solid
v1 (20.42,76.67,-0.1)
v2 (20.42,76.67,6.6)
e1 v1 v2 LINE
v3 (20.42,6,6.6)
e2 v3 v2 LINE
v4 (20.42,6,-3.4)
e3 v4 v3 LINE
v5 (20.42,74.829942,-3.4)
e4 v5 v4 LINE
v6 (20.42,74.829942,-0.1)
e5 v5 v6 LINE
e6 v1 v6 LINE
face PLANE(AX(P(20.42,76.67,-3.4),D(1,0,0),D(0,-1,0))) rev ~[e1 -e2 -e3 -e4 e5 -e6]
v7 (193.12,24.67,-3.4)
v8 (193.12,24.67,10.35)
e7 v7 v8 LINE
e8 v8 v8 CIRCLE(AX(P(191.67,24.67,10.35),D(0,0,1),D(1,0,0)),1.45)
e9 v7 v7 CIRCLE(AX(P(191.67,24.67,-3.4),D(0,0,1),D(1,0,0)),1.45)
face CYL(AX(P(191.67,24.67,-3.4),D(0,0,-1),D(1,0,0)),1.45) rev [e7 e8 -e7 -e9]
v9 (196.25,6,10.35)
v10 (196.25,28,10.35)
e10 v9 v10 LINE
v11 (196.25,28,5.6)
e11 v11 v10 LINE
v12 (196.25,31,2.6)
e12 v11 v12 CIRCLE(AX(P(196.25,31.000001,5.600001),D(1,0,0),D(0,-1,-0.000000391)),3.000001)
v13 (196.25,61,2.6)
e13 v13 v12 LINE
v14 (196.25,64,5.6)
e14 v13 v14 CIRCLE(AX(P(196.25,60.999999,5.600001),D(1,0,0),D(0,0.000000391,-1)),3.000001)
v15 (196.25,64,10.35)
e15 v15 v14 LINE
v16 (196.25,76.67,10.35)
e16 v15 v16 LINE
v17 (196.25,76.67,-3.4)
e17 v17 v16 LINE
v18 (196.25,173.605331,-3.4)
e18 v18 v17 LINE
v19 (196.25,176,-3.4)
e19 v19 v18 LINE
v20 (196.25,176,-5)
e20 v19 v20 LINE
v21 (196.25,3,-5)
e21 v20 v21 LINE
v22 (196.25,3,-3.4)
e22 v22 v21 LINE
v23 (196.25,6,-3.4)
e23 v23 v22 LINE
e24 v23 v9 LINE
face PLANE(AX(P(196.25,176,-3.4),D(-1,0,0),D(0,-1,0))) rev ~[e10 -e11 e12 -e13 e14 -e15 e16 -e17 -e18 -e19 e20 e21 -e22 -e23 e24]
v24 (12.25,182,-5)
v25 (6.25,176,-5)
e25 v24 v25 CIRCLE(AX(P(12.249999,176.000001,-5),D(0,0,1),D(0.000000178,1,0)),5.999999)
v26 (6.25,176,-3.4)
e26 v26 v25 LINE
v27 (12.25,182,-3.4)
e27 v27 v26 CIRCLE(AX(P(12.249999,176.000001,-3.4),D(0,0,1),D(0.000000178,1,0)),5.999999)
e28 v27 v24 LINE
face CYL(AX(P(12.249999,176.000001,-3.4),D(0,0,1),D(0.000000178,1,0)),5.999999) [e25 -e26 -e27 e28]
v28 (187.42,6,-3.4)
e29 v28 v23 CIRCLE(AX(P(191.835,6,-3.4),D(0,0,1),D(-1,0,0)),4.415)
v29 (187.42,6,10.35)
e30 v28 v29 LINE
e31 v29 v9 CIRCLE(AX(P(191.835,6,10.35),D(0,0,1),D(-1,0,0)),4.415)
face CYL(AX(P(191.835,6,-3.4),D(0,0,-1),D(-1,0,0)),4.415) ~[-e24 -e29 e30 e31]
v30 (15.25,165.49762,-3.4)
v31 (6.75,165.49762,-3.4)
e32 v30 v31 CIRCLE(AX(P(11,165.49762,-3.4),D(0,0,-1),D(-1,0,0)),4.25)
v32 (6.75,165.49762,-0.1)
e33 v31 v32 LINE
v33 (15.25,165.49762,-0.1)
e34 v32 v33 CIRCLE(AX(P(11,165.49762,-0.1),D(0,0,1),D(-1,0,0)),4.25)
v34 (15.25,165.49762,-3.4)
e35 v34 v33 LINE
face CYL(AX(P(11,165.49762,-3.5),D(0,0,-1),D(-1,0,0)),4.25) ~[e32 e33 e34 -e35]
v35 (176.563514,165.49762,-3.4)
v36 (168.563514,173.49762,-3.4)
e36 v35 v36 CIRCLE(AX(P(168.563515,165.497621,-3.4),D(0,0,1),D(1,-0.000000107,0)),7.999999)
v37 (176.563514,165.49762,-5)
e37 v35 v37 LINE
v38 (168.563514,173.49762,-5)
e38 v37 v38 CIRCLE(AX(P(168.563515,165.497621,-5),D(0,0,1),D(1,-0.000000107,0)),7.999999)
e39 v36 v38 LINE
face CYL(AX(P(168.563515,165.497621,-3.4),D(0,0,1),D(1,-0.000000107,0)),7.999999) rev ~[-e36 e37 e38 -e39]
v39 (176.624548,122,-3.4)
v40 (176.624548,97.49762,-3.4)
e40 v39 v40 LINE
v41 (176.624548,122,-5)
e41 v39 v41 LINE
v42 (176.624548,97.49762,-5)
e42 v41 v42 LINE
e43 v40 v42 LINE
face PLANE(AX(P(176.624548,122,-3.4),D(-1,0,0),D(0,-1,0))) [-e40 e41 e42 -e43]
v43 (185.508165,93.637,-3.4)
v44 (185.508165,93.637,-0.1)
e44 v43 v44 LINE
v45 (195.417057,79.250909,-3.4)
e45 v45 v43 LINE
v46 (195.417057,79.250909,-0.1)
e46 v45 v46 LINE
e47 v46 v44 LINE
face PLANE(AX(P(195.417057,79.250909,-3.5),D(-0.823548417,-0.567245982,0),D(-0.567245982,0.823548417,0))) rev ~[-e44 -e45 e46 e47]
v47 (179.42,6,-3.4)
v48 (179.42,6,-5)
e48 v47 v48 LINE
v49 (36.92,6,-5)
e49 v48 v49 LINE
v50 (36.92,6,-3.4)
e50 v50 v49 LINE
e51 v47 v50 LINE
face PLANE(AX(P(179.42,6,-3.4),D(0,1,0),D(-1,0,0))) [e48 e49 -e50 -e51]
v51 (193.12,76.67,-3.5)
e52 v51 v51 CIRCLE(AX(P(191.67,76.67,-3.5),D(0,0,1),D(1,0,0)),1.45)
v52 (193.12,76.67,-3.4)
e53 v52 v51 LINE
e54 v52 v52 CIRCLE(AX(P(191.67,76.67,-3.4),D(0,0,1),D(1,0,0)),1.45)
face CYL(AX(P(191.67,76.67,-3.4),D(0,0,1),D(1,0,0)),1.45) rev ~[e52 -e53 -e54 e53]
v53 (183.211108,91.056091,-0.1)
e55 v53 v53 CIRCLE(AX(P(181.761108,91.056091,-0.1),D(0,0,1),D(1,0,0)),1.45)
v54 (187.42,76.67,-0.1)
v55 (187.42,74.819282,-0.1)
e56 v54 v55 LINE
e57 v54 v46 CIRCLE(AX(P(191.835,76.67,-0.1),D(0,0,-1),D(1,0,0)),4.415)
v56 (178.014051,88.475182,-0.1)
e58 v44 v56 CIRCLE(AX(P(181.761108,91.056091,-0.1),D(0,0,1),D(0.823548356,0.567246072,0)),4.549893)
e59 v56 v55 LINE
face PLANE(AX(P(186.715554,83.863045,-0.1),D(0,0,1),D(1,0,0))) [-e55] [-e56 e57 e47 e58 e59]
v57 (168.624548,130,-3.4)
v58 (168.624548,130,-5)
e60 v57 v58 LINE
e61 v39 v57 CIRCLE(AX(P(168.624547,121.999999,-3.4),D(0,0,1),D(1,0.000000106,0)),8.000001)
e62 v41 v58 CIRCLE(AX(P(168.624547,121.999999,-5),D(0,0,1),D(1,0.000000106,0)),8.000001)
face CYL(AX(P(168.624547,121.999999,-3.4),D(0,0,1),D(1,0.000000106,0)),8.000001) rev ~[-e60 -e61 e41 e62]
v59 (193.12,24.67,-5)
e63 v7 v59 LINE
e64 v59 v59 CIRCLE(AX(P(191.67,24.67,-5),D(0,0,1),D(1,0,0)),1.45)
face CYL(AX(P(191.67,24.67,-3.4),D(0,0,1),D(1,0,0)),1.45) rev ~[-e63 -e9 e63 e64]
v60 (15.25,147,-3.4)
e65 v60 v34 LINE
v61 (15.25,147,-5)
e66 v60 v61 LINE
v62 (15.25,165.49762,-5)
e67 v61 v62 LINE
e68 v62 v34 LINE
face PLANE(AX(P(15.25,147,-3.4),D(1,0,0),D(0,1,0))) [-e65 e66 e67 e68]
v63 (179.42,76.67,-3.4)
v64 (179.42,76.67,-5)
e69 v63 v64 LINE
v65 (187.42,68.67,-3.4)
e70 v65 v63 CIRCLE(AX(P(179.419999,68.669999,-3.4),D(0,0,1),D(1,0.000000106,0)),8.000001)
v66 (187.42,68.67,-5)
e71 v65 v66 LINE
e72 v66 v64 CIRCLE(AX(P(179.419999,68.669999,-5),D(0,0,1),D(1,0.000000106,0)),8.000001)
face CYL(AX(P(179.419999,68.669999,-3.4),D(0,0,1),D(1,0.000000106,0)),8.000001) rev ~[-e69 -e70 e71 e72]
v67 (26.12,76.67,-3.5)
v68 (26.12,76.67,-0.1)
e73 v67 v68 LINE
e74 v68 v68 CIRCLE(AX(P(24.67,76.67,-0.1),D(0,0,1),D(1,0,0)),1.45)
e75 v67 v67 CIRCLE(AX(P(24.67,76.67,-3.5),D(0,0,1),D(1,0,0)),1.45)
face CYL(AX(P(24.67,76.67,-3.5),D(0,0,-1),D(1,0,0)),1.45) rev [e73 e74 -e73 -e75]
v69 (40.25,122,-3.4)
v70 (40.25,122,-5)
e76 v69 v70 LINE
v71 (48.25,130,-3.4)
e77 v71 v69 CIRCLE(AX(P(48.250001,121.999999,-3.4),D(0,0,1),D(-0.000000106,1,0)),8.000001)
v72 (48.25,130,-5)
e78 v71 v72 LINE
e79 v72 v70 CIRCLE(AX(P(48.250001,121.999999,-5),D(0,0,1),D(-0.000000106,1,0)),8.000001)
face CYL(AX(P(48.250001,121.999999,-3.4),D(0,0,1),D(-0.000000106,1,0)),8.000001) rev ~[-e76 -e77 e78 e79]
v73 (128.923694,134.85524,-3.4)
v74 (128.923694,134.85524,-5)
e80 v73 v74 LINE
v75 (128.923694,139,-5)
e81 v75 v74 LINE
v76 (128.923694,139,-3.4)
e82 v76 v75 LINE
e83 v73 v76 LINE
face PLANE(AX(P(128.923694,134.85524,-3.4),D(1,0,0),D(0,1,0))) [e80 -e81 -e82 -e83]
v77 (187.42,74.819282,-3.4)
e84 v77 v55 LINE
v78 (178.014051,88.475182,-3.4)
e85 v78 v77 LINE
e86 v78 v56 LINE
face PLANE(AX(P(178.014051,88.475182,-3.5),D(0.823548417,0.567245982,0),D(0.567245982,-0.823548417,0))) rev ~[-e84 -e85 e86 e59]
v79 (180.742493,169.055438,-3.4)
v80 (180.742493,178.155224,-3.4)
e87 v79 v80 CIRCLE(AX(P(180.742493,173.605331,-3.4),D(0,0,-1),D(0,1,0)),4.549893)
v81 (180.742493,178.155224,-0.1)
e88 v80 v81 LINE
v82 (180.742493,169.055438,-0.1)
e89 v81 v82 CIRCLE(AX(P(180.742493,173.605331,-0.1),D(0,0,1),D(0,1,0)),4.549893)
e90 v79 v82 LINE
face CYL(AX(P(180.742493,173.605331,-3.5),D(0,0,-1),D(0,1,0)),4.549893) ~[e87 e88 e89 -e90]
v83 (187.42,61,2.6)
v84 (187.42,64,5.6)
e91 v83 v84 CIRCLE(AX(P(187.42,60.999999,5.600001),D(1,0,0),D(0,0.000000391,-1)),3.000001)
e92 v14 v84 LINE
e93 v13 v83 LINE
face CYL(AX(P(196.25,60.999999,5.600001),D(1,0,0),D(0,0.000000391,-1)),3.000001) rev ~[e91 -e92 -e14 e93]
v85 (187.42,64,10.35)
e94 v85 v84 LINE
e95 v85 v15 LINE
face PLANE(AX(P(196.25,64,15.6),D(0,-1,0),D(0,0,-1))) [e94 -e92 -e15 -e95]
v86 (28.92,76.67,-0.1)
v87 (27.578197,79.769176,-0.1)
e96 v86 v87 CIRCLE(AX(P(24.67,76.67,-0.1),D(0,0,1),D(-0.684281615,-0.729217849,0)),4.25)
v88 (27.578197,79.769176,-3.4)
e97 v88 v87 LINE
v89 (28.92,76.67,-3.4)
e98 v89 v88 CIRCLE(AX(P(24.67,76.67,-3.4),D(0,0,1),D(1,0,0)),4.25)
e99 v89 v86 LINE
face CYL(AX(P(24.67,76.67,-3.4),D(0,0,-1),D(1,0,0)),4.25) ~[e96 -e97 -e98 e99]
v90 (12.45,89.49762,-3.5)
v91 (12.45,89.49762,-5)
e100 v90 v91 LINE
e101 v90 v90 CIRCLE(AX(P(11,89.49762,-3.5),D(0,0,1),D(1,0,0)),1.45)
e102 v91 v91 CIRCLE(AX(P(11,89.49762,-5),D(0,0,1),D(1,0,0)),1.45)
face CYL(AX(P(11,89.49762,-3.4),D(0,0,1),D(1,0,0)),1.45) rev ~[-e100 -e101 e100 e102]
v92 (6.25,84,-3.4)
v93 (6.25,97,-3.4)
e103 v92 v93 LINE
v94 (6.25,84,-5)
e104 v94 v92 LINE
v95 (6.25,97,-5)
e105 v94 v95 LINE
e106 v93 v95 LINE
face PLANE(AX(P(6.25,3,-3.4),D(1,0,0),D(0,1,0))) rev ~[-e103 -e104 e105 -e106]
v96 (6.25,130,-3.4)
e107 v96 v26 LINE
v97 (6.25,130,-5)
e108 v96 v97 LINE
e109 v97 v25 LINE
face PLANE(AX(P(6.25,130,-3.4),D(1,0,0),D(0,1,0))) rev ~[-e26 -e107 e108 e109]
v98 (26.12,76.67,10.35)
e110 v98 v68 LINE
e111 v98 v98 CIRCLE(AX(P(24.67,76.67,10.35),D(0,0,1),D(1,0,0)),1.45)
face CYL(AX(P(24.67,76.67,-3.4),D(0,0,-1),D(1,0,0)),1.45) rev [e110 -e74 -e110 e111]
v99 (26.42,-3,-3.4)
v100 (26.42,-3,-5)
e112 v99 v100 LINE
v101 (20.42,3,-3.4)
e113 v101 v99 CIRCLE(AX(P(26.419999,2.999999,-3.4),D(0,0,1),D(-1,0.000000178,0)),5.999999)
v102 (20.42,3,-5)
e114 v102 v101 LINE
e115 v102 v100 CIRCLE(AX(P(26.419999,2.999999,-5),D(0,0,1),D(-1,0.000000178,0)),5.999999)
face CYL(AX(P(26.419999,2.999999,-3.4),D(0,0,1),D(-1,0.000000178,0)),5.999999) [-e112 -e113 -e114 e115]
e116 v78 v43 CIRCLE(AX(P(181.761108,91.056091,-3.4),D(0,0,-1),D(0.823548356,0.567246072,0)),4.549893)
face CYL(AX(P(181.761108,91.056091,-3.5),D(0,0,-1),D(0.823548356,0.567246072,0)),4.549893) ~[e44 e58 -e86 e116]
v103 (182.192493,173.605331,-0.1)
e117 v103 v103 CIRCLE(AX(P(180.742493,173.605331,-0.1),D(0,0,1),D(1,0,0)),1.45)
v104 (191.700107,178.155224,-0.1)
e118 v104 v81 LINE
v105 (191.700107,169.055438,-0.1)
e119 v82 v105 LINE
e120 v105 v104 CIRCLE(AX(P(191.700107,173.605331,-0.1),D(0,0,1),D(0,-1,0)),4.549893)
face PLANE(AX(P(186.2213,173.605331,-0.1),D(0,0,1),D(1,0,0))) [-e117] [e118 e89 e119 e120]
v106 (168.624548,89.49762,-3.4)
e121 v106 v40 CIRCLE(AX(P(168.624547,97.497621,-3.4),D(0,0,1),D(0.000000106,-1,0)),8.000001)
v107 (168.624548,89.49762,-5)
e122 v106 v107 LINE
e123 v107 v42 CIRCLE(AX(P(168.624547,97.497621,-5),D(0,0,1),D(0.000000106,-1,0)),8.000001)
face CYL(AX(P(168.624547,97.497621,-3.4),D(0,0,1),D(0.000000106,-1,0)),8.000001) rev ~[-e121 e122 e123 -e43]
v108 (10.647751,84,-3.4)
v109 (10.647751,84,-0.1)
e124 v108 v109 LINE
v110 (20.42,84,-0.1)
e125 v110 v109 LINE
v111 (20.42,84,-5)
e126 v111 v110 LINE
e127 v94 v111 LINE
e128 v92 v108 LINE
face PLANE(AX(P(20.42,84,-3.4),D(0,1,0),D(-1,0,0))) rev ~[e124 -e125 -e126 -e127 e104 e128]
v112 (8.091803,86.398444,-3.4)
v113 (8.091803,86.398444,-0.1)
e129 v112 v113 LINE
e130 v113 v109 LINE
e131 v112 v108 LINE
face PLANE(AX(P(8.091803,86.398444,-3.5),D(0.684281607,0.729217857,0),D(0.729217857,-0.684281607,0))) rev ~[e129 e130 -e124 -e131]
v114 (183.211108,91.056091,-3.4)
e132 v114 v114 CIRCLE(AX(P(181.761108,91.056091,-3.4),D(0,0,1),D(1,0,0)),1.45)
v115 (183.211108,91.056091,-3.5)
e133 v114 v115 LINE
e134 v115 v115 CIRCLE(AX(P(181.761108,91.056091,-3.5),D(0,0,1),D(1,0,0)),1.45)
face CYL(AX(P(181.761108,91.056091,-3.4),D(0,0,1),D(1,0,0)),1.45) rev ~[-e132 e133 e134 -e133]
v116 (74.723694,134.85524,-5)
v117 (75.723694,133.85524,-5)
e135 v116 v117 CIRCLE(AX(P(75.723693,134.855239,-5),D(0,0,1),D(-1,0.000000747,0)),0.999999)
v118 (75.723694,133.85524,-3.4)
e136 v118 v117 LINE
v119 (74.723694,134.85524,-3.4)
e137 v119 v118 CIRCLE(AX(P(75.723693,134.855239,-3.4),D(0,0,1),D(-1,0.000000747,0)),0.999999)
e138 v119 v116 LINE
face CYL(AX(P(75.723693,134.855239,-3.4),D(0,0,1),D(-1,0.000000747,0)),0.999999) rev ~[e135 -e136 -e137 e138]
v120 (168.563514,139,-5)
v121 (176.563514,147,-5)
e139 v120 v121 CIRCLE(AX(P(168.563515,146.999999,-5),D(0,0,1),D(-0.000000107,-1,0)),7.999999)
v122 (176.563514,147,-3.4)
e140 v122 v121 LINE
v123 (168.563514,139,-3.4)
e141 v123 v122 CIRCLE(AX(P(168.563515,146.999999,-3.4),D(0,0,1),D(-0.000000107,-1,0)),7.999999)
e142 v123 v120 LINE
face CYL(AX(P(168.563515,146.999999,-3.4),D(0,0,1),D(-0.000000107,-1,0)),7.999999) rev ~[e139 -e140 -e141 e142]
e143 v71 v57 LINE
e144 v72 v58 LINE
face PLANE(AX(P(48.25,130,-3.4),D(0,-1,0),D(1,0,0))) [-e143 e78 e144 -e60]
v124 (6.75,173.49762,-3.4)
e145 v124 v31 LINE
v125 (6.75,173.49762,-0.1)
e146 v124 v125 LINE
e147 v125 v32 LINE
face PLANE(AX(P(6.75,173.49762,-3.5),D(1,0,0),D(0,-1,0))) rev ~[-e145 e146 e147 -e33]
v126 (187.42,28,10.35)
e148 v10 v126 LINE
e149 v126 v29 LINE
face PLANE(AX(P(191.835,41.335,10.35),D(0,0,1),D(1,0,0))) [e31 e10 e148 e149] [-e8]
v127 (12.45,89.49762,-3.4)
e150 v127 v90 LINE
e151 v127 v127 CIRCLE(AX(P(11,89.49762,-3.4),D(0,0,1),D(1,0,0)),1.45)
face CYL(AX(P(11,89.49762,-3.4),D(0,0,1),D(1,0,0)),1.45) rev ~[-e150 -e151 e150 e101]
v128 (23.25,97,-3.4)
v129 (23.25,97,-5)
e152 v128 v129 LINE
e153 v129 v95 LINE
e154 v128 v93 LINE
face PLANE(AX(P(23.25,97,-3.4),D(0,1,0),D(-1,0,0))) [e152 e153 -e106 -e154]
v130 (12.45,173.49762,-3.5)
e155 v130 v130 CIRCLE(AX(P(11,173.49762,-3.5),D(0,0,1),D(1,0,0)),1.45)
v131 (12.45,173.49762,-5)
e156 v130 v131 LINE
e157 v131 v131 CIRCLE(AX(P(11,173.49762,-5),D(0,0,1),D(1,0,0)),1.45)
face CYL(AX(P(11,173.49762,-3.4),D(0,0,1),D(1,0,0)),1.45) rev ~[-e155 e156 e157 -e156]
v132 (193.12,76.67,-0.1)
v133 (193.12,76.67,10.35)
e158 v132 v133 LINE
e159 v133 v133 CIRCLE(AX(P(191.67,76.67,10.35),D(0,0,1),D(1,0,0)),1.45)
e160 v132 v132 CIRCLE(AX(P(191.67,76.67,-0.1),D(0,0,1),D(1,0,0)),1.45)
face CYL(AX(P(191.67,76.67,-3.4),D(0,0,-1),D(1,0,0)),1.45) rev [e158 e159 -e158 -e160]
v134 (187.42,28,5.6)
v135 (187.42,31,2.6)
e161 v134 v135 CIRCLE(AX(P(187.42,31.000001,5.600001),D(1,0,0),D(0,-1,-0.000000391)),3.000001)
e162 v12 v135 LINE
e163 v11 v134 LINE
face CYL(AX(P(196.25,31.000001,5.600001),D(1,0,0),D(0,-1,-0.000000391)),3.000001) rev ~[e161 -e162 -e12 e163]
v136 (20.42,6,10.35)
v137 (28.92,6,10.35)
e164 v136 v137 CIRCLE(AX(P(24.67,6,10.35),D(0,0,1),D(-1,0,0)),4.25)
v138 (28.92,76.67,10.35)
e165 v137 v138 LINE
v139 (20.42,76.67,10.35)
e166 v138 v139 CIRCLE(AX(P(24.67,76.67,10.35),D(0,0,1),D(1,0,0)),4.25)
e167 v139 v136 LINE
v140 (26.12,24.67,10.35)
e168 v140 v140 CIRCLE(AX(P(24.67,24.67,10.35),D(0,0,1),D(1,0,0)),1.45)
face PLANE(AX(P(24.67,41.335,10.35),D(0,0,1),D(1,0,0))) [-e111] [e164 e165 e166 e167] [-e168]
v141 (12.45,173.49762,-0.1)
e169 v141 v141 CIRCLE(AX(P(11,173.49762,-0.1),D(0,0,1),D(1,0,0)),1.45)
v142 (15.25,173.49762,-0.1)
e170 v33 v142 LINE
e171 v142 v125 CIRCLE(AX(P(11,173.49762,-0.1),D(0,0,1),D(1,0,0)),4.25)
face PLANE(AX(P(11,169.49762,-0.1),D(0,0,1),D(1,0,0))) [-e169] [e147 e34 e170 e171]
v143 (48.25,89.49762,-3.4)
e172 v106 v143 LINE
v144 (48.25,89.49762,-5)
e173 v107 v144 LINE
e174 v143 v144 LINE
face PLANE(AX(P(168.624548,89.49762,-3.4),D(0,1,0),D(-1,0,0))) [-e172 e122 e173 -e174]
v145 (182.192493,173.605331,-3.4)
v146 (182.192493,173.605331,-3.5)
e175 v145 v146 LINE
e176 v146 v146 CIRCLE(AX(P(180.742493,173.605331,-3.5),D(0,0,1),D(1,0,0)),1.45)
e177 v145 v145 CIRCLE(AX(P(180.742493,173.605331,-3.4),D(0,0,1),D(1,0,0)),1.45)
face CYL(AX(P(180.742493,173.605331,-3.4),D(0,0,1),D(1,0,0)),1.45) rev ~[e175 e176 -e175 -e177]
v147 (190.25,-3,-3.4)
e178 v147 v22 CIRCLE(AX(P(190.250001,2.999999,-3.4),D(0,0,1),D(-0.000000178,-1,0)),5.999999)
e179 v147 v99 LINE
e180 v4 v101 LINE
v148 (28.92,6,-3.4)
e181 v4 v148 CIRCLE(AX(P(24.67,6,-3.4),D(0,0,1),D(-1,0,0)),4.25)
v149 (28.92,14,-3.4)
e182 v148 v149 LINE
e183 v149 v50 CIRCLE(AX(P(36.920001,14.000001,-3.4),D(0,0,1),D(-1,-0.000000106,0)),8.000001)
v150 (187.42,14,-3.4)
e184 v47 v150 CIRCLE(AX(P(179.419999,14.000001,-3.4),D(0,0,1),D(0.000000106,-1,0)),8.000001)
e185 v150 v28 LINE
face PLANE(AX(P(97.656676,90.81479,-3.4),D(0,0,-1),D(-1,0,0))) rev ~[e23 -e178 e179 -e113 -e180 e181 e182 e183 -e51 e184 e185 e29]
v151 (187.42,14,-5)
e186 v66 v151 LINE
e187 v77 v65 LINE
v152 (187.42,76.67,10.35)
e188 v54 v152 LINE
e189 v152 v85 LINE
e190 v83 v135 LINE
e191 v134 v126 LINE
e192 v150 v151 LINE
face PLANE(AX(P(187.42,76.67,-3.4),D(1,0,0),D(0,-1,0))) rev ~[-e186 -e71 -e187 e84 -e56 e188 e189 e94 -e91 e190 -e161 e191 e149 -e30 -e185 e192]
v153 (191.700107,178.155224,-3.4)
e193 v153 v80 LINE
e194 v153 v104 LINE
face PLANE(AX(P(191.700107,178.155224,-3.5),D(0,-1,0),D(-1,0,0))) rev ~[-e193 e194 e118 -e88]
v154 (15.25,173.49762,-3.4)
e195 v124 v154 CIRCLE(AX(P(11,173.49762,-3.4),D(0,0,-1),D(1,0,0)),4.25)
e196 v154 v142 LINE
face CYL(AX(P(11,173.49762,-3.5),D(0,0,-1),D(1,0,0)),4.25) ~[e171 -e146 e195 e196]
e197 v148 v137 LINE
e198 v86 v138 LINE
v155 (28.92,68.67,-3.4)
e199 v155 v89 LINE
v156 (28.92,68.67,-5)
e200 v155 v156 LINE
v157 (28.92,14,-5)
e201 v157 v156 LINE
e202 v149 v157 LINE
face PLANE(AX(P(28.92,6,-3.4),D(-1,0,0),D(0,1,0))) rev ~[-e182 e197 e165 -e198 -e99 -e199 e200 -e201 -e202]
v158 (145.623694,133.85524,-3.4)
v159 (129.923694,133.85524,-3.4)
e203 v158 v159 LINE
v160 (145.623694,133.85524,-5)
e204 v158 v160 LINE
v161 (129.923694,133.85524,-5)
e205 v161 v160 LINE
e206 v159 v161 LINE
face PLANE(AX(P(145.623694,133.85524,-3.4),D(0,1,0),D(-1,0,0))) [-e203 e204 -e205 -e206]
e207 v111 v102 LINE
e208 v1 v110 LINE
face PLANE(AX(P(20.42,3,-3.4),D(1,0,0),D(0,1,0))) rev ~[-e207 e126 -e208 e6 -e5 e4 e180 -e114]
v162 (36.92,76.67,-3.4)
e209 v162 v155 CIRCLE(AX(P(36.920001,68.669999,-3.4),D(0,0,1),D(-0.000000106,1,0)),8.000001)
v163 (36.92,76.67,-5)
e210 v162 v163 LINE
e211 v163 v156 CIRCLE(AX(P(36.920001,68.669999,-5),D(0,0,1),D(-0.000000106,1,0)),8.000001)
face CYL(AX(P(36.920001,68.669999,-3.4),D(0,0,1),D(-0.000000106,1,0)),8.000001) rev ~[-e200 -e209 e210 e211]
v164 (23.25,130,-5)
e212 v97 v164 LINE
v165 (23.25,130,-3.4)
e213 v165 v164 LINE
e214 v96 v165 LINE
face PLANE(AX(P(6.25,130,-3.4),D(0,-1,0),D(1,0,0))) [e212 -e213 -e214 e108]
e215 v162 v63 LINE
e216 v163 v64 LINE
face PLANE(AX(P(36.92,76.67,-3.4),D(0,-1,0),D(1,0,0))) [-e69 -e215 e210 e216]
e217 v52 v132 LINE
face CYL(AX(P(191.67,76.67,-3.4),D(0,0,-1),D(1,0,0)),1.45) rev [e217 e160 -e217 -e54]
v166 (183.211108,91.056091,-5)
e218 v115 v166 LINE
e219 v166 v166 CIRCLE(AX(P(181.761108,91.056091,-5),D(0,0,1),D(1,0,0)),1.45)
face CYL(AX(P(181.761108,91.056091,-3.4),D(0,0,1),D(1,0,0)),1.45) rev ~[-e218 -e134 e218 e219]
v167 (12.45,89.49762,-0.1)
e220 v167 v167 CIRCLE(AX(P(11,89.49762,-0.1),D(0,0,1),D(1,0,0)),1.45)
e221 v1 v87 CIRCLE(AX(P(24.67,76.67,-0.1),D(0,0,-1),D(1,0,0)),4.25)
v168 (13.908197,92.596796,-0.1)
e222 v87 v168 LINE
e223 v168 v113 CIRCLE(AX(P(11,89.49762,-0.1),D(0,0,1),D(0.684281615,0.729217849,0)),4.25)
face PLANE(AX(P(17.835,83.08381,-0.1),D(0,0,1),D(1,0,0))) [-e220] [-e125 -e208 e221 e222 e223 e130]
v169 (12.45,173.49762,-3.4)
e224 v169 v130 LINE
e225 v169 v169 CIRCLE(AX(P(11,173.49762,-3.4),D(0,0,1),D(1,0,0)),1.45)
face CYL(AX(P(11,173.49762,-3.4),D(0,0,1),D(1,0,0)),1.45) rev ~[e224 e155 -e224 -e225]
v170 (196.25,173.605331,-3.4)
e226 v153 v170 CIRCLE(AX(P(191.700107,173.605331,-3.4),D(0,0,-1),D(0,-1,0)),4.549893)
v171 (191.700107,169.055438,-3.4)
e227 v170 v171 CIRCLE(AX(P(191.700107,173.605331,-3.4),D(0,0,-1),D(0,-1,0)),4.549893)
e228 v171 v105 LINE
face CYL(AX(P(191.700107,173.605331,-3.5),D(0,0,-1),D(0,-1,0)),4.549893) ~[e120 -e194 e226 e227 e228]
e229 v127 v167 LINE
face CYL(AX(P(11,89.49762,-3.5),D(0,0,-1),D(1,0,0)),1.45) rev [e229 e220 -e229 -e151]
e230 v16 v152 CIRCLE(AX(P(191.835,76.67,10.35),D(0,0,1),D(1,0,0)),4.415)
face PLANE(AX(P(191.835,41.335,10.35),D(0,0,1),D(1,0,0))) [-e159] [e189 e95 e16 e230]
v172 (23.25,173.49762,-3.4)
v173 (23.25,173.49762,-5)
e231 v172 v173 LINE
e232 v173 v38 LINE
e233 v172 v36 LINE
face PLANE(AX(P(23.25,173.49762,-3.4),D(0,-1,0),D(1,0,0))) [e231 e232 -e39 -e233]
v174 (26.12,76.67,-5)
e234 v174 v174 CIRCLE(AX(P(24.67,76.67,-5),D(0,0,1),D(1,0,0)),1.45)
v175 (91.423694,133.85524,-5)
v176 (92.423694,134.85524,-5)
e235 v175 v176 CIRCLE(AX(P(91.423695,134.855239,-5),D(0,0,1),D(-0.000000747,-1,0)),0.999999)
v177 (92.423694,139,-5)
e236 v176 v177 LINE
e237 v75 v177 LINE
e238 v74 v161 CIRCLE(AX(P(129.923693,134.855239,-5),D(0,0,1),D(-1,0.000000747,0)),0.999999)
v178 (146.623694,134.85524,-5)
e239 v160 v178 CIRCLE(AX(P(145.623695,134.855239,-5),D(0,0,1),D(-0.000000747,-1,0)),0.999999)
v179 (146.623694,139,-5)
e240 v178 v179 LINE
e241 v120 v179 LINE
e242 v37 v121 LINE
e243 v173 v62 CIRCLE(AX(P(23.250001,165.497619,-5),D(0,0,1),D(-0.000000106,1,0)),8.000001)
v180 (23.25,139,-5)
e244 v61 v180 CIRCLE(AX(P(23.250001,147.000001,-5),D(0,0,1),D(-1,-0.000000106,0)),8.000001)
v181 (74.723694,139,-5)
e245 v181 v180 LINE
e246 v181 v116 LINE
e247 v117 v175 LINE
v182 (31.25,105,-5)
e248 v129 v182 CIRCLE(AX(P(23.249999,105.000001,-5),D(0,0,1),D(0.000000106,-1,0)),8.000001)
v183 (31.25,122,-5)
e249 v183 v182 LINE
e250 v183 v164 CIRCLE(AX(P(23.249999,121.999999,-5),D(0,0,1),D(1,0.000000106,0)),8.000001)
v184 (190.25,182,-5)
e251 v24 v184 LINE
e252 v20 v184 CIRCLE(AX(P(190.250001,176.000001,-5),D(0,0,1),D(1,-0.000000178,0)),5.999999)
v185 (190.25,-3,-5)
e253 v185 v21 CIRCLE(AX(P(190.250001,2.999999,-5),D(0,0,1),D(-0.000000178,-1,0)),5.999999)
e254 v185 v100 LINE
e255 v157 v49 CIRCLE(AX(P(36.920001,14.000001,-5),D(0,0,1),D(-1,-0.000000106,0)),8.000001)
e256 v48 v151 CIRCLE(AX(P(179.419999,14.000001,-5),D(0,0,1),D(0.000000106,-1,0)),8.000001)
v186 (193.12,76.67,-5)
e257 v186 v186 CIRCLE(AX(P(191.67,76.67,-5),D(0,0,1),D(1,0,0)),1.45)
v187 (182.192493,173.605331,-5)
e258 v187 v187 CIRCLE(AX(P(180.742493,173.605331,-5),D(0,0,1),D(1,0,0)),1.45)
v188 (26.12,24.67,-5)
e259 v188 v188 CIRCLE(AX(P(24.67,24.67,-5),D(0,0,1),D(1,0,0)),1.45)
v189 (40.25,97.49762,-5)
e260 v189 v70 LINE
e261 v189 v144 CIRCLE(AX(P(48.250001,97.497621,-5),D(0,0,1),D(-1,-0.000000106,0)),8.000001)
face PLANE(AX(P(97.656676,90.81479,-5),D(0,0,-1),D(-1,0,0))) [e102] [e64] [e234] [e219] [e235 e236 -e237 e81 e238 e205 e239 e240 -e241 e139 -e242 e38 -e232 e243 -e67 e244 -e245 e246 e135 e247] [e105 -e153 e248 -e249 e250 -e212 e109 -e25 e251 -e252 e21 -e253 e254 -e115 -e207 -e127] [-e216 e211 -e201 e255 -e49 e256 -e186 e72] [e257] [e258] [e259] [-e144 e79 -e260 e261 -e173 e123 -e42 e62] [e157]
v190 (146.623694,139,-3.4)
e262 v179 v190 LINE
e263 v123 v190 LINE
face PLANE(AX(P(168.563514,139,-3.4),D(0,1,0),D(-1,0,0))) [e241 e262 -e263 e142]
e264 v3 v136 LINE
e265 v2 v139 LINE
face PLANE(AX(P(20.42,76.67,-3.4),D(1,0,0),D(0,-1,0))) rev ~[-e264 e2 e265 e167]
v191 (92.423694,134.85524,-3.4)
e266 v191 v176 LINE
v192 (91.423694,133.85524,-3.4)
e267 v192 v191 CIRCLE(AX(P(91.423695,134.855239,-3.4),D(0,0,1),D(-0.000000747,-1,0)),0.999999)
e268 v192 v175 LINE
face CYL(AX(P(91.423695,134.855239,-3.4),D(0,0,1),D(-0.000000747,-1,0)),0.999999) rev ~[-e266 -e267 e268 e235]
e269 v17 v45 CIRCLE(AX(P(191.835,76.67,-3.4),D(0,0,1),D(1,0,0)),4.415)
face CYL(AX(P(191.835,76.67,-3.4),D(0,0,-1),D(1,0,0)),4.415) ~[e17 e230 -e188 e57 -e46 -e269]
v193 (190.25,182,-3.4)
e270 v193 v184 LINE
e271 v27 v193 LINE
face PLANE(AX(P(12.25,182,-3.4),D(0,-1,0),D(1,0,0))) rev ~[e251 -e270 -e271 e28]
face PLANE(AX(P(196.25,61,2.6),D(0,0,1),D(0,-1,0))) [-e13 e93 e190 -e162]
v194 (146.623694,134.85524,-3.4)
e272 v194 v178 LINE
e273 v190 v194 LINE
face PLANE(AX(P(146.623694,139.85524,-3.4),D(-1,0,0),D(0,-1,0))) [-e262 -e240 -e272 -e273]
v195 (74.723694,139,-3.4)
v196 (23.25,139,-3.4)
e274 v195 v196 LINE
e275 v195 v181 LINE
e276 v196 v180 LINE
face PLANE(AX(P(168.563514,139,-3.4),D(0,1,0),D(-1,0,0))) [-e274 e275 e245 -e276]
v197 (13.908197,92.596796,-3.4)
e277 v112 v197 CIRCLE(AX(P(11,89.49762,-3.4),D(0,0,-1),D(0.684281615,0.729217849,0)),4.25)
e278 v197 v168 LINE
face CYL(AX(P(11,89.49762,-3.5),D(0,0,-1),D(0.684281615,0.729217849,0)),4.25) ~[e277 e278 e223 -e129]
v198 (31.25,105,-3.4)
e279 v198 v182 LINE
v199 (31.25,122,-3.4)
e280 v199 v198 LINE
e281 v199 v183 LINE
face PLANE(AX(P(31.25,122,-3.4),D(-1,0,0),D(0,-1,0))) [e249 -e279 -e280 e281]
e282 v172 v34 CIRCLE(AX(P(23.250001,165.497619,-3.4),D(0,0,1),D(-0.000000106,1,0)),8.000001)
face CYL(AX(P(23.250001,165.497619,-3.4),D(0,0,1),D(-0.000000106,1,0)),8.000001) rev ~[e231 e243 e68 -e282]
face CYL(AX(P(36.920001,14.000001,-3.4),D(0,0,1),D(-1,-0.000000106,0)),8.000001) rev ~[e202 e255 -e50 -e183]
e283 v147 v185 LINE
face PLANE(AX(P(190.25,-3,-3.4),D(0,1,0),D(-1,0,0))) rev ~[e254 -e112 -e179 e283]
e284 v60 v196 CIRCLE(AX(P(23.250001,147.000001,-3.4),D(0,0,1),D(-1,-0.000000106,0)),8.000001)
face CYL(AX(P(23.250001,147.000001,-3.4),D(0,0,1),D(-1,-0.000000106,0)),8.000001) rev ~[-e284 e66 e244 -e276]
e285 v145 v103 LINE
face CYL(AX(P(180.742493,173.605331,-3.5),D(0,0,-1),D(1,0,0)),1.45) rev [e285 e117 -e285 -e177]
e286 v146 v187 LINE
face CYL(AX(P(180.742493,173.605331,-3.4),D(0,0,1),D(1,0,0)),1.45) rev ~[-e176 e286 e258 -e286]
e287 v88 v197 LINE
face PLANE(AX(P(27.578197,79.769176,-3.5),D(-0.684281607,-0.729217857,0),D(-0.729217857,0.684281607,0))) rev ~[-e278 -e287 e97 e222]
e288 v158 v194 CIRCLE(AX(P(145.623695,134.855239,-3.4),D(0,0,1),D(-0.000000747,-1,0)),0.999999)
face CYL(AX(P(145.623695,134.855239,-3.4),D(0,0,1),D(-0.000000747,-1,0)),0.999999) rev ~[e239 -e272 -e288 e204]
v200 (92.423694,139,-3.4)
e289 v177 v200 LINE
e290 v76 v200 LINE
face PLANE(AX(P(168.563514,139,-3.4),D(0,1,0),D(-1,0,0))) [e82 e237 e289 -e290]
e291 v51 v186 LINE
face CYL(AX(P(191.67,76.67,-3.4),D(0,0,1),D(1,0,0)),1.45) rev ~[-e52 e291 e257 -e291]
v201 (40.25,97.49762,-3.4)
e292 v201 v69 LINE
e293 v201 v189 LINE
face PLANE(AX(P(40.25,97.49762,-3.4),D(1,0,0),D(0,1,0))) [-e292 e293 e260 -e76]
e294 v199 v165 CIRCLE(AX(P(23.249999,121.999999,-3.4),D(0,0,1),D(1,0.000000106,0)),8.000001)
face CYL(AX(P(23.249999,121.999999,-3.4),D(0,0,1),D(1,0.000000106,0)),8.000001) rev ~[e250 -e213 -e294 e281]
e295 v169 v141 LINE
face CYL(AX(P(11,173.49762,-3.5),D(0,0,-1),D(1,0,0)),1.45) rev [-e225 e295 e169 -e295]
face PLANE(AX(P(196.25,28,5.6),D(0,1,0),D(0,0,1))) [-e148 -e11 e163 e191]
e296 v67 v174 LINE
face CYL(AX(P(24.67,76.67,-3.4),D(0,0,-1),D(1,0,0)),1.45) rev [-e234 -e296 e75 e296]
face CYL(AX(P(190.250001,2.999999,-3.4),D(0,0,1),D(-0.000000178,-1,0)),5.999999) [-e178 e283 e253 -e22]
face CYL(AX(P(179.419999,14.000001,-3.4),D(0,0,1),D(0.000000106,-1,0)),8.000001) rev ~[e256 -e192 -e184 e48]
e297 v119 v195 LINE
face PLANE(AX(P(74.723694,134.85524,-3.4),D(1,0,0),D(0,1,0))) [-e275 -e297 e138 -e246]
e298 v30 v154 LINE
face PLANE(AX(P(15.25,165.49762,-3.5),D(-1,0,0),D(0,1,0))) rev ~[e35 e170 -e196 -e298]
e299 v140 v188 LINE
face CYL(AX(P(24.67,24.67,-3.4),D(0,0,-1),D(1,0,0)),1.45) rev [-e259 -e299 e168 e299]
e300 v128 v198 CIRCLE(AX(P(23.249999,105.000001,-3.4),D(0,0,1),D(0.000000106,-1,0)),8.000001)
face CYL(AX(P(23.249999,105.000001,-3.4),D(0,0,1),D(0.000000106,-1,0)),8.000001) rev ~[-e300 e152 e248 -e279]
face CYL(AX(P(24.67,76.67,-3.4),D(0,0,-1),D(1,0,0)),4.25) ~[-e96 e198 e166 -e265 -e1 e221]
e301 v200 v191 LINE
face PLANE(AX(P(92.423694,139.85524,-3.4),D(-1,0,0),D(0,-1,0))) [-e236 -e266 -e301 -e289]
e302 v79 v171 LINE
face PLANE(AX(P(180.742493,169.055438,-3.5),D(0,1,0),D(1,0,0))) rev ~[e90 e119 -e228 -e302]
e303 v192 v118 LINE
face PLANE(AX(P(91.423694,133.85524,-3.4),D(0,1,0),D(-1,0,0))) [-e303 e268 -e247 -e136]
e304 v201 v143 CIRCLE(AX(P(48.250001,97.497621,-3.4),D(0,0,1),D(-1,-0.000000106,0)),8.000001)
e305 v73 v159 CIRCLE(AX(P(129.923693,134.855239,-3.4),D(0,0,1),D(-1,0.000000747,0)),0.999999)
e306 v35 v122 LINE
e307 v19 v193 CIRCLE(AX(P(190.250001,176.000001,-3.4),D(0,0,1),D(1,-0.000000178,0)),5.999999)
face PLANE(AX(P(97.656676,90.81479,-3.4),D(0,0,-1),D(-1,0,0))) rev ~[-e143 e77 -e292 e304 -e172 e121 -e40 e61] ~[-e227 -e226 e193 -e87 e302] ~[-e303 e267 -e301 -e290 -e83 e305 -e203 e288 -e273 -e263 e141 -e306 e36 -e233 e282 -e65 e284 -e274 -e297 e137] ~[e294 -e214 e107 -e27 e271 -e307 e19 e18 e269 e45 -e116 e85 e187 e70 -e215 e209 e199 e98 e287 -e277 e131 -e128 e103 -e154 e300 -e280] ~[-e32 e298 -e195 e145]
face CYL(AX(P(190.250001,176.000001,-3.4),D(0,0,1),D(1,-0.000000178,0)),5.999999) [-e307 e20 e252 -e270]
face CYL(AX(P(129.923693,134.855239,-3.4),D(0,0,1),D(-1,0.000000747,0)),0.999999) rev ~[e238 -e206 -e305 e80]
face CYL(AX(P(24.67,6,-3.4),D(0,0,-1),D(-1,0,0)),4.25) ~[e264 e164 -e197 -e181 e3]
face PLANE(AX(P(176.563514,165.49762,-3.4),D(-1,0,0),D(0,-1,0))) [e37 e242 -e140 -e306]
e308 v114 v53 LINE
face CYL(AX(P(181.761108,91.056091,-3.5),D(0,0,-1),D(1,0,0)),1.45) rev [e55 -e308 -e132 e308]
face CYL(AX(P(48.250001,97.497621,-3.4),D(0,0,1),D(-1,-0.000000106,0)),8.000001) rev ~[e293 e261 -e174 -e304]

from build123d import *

# Parameters (mm, degrees)
SKETCH_R        = 1.45
PAD001_DEPTH    = 1.6
SKETCH001_R     = 1.45
PAD002_DEPTH    = 13.75
POCKET_DEPTH    = 15
SKETCH003_R     = 1.45
PAD003_DEPTH    = 3.4
POCKET001_DEPTH = 5
POCKET002_DEPTH = 10


with BuildPart() as part:
    # Sketch → Pad001 (new body)
    with BuildSketch(Plane.XY):
        with BuildLine():
            Line((12.25, 182), (190.25, 182))
            ThreePointArc((196.25, 176), (194.492641, 180.242641), (190.25, 182))
            Line((196.25, 176), (196.25, 3))
            ThreePointArc((190.25, -3), (194.492641, -1.242641), (196.25, 3))
            Line((190.25, -3), (12.25, -3))
            ThreePointArc((6.25, 3), (8.007359, -1.242641), (12.25, -3))
            Line((6.25, 3), (6.25, 97))
            Line((23.25, 97), (6.25, 97))
            ThreePointArc((23.25, 97), (28.906854, 99.343146), (31.25, 105))
            Line((31.25, 122), (31.25, 105))
            ThreePointArc((31.25, 122), (28.906854, 127.656854), (23.25, 130))
            Line((6.25, 130), (23.25, 130))
            Line((6.25, 130), (6.25, 176))
            ThreePointArc((12.25, 182), (8.007359, 180.242641), (6.25, 176))
        make_face()
        with Locations((11, 173.49762)):
            Circle(SKETCH_R, mode=Mode.SUBTRACT)
        with Locations((11, 89.49762)):
            Circle(SKETCH_R, mode=Mode.SUBTRACT)
        with Locations((180.742493, 173.605331)):
            Circle(SKETCH_R, mode=Mode.SUBTRACT)
        with Locations((181.761108, 91.056091)):
            Circle(SKETCH_R, mode=Mode.SUBTRACT)
        with Locations((24.67, 76.67)):
            Circle(SKETCH_R, mode=Mode.SUBTRACT)
        with Locations((24.67, 24.67)):
            Circle(SKETCH_R, mode=Mode.SUBTRACT)
        with Locations((191.67, 24.67)):
            Circle(SKETCH_R, mode=Mode.SUBTRACT)
        with Locations((191.67, 76.67)):
            Circle(SKETCH_R, mode=Mode.SUBTRACT)
        with BuildLine():
            ThreePointArc((40.25, 97.49762), (42.593146, 91.840766), (48.25, 89.49762))
            Line((168.624548, 89.49762), (48.25, 89.49762))
            ThreePointArc((168.624548, 89.49762), (174.281402, 91.840766), (176.624548, 97.49762))
            Line((176.624548, 122), (176.624548, 97.49762))
            ThreePointArc((176.624548, 122), (174.281402, 127.656854), (168.624548, 130))
            Line((48.25, 130), (168.624548, 130))
            ThreePointArc((48.25, 130), (42.593146, 127.656854), (40.25, 122))
            Line((40.25, 97.49762), (40.25, 122))
        make_face(mode=Mode.SUBTRACT)
        with BuildLine():
            ThreePointArc((15.25, 147), (17.593146, 141.343146), (23.25, 139))
            Line((168.563514, 139), (23.25, 139))
            ThreePointArc((168.563514, 139), (174.220369, 141.343146), (176.563514, 147))
            Line((176.563514, 165.49762), (176.563514, 147))
            ThreePointArc((176.563514, 165.49762), (174.220369, 171.154474), (168.563514, 173.49762))
            Line((23.25, 173.49762), (168.563514, 173.49762))
            ThreePointArc((23.25, 173.49762), (17.593146, 171.154474), (15.25, 165.49762))
            Line((15.25, 147), (15.25, 165.49762))
        make_face(mode=Mode.SUBTRACT)
        with BuildLine():
            ThreePointArc((28.92, 14), (31.263146, 8.343146), (36.92, 6))
            Line((179.42, 6), (36.92, 6))
            ThreePointArc((179.42, 6), (185.076854, 8.343146), (187.42, 14))
            Line((187.42, 68.67), (187.42, 14))
            ThreePointArc((187.42, 68.67), (185.076854, 74.326854), (179.42, 76.67))
            Line((36.92, 76.67), (179.42, 76.67))
            ThreePointArc((36.92, 76.67), (31.263146, 74.326854), (28.92, 68.67))
            Line((28.92, 14), (28.92, 68.67))
        make_face(mode=Mode.SUBTRACT)
    extrude(amount=-PAD001_DEPTH)

    # Sketch001 → Pad002 (join)
    with BuildSketch(Plane.XY):
        with BuildLine():
            ThreePointArc((28.92, 76.67), (24.67, 80.92), (20.42, 76.67))
            Line((20.42, 76.67), (20.42, 6))
            ThreePointArc((20.42, 6), (24.67, 1.75), (28.92, 6))
            Line((28.92, 6), (28.92, 76.67))
        make_face()
        with Locations((24.67, 24.67)):
            Circle(SKETCH001_R, mode=Mode.SUBTRACT)
        with Locations((24.67, 76.67)):
            Circle(SKETCH001_R, mode=Mode.SUBTRACT)
        with BuildLine():
            ThreePointArc((196.25, 76.67), (191.835, 81.085), (187.42, 76.67))
            Line((187.42, 76.67), (187.42, 6))
            ThreePointArc((187.42, 6), (191.835, 1.585), (196.25, 6))
            Line((196.25, 6), (196.25, 76.67))
        make_face()
        with Locations((191.67, 76.67)):
            Circle(SKETCH001_R, mode=Mode.SUBTRACT)
        with Locations((191.67, 24.67)):
            Circle(SKETCH001_R, mode=Mode.SUBTRACT)
    extrude(amount=PAD002_DEPTH)

    # Sketch002 (on Face56 of Pad002) → Pocket (cut)
    with BuildSketch(Plane.YZ.offset(196.25)):
        with BuildLine():
            ThreePointArc((31, 22), (28.87868, 21.12132), (28, 19))
            Line((28, 9), (28, 19))
            ThreePointArc((28, 9), (28.87868, 6.87868), (31, 6))
            Line((61, 6), (31, 6))
            ThreePointArc((61, 6), (63.12132, 6.87868), (64, 9))
            Line((64, 19), (64, 9))
            ThreePointArc((64, 19), (63.12132, 21.12132), (61, 22))
            Line((31, 22), (61, 22))
        make_face()
    extrude(amount=-POCKET_DEPTH, mode=Mode.SUBTRACT)

    # Sketch003 → Pad003 (join)
    with BuildSketch(Plane.XY.offset(-0.1)):
        with BuildLine():
            ThreePointArc((185.508165, 93.637), (179.180199, 94.803148), (178.014051, 88.475182))
            Line((178.014051, 88.475182), (187.922943, 74.089091))
            ThreePointArc((187.922943, 74.089091), (194.250909, 72.922943), (195.417057, 79.250909))
            Line((195.417057, 79.250909), (185.508165, 93.637))
        make_face()
        with Locations((191.67, 76.67)):
            Circle(SKETCH003_R, mode=Mode.SUBTRACT)
        with Locations((181.761108, 91.056091)):
            Circle(SKETCH003_R, mode=Mode.SUBTRACT)
        with BuildLine():
            ThreePointArc((13.908197, 92.596796), (7.900824, 92.405817), (8.091803, 86.398444))
            Line((8.091803, 86.398444), (21.761803, 73.570824))
            ThreePointArc((21.761803, 73.570824), (27.769176, 73.761803), (27.578197, 79.769176))
            Line((27.578197, 79.769176), (13.908197, 92.596796))
        make_face()
        with Locations((24.67, 76.67)):
            Circle(SKETCH003_R, mode=Mode.SUBTRACT)
        with Locations((11, 89.49762)):
            Circle(SKETCH003_R, mode=Mode.SUBTRACT)
        with BuildLine():
            ThreePointArc((15.25, 173.49762), (11, 177.74762), (6.75, 173.49762))
            Line((6.75, 173.49762), (6.75, 165.49762))
            ThreePointArc((6.75, 165.49762), (11, 161.24762), (15.25, 165.49762))
            Line((15.25, 165.49762), (15.25, 173.49762))
        make_face()
        with Locations((11, 173.49762)):
            Circle(SKETCH003_R, mode=Mode.SUBTRACT)
        with BuildLine():
            ThreePointArc((180.742493, 178.155224), (176.1926, 173.605331), (180.742493, 169.055438))
            Line((180.742493, 169.055438), (191.700107, 169.055438))
            ThreePointArc((191.700107, 169.055438), (196.25, 173.605331), (191.700107, 178.155224))
            Line((191.700107, 178.155224), (180.742493, 178.155224))
        make_face()
        with Locations((180.742493, 173.605331)):
            Circle(SKETCH003_R, mode=Mode.SUBTRACT)
    extrude(amount=PAD003_DEPTH)

    # Sketch004 → Pocket001 (cut)
    with BuildSketch(Plane.XY):
        with BuildLine():
            ThreePointArc((75.723694, 140.85524), (75.016587, 140.562347), (74.723694, 139.85524))
            Line((74.723694, 134.85524), (74.723694, 139.85524))
            ThreePointArc((74.723694, 134.85524), (75.016587, 134.148133), (75.723694, 133.85524))
            Line((91.423694, 133.85524), (75.723694, 133.85524))
            ThreePointArc((91.423694, 133.85524), (92.130801, 134.148133), (92.423694, 134.85524))
            Line((92.423694, 139.85524), (92.423694, 134.85524))
            ThreePointArc((92.423694, 139.85524), (92.130801, 140.562347), (91.423694, 140.85524))
            Line((75.723694, 140.85524), (91.423694, 140.85524))
        make_face()
        with BuildLine():
            ThreePointArc((129.923694, 140.85524), (129.216587, 140.562347), (128.923694, 139.85524))
            Line((128.923694, 134.85524), (128.923694, 139.85524))
            ThreePointArc((128.923694, 134.85524), (129.216587, 134.148133), (129.923694, 133.85524))
            Line((145.623694, 133.85524), (129.923694, 133.85524))
            ThreePointArc((145.623694, 133.85524), (146.330801, 134.148133), (146.623694, 134.85524))
            Line((146.623694, 139.85524), (146.623694, 134.85524))
            ThreePointArc((146.623694, 139.85524), (146.330801, 140.562347), (145.623694, 140.85524))
            Line((129.923694, 140.85524), (145.623694, 140.85524))
        make_face()
    extrude(amount=-POCKET001_DEPTH, mode=Mode.SUBTRACT)

    # Sketch008 → Pocket002 (cut, symmetric)
    with BuildSketch(Plane.XY):
        with BuildLine():
            ThreePointArc((20.42, 3), (22.177359, -1.242641), (26.42, -3))
            Line((26.42, -33), (26.42, -3))
            Line((-9.58, -33), (26.42, -33))
            Line((-9.58, 84), (-9.58, -33))
            Line((20.42, 84), (-9.58, 84))
            Line((20.42, 3), (20.42, 84))
        make_face()
    extrude(amount=POCKET002_DEPTH, both=True, mode=Mode.SUBTRACT)


with BuildPart() as part_1:
    # Body001 placement: moved
    add(part.part.moved(Location((0, 0, -3.4))))


solid = part_1.part
